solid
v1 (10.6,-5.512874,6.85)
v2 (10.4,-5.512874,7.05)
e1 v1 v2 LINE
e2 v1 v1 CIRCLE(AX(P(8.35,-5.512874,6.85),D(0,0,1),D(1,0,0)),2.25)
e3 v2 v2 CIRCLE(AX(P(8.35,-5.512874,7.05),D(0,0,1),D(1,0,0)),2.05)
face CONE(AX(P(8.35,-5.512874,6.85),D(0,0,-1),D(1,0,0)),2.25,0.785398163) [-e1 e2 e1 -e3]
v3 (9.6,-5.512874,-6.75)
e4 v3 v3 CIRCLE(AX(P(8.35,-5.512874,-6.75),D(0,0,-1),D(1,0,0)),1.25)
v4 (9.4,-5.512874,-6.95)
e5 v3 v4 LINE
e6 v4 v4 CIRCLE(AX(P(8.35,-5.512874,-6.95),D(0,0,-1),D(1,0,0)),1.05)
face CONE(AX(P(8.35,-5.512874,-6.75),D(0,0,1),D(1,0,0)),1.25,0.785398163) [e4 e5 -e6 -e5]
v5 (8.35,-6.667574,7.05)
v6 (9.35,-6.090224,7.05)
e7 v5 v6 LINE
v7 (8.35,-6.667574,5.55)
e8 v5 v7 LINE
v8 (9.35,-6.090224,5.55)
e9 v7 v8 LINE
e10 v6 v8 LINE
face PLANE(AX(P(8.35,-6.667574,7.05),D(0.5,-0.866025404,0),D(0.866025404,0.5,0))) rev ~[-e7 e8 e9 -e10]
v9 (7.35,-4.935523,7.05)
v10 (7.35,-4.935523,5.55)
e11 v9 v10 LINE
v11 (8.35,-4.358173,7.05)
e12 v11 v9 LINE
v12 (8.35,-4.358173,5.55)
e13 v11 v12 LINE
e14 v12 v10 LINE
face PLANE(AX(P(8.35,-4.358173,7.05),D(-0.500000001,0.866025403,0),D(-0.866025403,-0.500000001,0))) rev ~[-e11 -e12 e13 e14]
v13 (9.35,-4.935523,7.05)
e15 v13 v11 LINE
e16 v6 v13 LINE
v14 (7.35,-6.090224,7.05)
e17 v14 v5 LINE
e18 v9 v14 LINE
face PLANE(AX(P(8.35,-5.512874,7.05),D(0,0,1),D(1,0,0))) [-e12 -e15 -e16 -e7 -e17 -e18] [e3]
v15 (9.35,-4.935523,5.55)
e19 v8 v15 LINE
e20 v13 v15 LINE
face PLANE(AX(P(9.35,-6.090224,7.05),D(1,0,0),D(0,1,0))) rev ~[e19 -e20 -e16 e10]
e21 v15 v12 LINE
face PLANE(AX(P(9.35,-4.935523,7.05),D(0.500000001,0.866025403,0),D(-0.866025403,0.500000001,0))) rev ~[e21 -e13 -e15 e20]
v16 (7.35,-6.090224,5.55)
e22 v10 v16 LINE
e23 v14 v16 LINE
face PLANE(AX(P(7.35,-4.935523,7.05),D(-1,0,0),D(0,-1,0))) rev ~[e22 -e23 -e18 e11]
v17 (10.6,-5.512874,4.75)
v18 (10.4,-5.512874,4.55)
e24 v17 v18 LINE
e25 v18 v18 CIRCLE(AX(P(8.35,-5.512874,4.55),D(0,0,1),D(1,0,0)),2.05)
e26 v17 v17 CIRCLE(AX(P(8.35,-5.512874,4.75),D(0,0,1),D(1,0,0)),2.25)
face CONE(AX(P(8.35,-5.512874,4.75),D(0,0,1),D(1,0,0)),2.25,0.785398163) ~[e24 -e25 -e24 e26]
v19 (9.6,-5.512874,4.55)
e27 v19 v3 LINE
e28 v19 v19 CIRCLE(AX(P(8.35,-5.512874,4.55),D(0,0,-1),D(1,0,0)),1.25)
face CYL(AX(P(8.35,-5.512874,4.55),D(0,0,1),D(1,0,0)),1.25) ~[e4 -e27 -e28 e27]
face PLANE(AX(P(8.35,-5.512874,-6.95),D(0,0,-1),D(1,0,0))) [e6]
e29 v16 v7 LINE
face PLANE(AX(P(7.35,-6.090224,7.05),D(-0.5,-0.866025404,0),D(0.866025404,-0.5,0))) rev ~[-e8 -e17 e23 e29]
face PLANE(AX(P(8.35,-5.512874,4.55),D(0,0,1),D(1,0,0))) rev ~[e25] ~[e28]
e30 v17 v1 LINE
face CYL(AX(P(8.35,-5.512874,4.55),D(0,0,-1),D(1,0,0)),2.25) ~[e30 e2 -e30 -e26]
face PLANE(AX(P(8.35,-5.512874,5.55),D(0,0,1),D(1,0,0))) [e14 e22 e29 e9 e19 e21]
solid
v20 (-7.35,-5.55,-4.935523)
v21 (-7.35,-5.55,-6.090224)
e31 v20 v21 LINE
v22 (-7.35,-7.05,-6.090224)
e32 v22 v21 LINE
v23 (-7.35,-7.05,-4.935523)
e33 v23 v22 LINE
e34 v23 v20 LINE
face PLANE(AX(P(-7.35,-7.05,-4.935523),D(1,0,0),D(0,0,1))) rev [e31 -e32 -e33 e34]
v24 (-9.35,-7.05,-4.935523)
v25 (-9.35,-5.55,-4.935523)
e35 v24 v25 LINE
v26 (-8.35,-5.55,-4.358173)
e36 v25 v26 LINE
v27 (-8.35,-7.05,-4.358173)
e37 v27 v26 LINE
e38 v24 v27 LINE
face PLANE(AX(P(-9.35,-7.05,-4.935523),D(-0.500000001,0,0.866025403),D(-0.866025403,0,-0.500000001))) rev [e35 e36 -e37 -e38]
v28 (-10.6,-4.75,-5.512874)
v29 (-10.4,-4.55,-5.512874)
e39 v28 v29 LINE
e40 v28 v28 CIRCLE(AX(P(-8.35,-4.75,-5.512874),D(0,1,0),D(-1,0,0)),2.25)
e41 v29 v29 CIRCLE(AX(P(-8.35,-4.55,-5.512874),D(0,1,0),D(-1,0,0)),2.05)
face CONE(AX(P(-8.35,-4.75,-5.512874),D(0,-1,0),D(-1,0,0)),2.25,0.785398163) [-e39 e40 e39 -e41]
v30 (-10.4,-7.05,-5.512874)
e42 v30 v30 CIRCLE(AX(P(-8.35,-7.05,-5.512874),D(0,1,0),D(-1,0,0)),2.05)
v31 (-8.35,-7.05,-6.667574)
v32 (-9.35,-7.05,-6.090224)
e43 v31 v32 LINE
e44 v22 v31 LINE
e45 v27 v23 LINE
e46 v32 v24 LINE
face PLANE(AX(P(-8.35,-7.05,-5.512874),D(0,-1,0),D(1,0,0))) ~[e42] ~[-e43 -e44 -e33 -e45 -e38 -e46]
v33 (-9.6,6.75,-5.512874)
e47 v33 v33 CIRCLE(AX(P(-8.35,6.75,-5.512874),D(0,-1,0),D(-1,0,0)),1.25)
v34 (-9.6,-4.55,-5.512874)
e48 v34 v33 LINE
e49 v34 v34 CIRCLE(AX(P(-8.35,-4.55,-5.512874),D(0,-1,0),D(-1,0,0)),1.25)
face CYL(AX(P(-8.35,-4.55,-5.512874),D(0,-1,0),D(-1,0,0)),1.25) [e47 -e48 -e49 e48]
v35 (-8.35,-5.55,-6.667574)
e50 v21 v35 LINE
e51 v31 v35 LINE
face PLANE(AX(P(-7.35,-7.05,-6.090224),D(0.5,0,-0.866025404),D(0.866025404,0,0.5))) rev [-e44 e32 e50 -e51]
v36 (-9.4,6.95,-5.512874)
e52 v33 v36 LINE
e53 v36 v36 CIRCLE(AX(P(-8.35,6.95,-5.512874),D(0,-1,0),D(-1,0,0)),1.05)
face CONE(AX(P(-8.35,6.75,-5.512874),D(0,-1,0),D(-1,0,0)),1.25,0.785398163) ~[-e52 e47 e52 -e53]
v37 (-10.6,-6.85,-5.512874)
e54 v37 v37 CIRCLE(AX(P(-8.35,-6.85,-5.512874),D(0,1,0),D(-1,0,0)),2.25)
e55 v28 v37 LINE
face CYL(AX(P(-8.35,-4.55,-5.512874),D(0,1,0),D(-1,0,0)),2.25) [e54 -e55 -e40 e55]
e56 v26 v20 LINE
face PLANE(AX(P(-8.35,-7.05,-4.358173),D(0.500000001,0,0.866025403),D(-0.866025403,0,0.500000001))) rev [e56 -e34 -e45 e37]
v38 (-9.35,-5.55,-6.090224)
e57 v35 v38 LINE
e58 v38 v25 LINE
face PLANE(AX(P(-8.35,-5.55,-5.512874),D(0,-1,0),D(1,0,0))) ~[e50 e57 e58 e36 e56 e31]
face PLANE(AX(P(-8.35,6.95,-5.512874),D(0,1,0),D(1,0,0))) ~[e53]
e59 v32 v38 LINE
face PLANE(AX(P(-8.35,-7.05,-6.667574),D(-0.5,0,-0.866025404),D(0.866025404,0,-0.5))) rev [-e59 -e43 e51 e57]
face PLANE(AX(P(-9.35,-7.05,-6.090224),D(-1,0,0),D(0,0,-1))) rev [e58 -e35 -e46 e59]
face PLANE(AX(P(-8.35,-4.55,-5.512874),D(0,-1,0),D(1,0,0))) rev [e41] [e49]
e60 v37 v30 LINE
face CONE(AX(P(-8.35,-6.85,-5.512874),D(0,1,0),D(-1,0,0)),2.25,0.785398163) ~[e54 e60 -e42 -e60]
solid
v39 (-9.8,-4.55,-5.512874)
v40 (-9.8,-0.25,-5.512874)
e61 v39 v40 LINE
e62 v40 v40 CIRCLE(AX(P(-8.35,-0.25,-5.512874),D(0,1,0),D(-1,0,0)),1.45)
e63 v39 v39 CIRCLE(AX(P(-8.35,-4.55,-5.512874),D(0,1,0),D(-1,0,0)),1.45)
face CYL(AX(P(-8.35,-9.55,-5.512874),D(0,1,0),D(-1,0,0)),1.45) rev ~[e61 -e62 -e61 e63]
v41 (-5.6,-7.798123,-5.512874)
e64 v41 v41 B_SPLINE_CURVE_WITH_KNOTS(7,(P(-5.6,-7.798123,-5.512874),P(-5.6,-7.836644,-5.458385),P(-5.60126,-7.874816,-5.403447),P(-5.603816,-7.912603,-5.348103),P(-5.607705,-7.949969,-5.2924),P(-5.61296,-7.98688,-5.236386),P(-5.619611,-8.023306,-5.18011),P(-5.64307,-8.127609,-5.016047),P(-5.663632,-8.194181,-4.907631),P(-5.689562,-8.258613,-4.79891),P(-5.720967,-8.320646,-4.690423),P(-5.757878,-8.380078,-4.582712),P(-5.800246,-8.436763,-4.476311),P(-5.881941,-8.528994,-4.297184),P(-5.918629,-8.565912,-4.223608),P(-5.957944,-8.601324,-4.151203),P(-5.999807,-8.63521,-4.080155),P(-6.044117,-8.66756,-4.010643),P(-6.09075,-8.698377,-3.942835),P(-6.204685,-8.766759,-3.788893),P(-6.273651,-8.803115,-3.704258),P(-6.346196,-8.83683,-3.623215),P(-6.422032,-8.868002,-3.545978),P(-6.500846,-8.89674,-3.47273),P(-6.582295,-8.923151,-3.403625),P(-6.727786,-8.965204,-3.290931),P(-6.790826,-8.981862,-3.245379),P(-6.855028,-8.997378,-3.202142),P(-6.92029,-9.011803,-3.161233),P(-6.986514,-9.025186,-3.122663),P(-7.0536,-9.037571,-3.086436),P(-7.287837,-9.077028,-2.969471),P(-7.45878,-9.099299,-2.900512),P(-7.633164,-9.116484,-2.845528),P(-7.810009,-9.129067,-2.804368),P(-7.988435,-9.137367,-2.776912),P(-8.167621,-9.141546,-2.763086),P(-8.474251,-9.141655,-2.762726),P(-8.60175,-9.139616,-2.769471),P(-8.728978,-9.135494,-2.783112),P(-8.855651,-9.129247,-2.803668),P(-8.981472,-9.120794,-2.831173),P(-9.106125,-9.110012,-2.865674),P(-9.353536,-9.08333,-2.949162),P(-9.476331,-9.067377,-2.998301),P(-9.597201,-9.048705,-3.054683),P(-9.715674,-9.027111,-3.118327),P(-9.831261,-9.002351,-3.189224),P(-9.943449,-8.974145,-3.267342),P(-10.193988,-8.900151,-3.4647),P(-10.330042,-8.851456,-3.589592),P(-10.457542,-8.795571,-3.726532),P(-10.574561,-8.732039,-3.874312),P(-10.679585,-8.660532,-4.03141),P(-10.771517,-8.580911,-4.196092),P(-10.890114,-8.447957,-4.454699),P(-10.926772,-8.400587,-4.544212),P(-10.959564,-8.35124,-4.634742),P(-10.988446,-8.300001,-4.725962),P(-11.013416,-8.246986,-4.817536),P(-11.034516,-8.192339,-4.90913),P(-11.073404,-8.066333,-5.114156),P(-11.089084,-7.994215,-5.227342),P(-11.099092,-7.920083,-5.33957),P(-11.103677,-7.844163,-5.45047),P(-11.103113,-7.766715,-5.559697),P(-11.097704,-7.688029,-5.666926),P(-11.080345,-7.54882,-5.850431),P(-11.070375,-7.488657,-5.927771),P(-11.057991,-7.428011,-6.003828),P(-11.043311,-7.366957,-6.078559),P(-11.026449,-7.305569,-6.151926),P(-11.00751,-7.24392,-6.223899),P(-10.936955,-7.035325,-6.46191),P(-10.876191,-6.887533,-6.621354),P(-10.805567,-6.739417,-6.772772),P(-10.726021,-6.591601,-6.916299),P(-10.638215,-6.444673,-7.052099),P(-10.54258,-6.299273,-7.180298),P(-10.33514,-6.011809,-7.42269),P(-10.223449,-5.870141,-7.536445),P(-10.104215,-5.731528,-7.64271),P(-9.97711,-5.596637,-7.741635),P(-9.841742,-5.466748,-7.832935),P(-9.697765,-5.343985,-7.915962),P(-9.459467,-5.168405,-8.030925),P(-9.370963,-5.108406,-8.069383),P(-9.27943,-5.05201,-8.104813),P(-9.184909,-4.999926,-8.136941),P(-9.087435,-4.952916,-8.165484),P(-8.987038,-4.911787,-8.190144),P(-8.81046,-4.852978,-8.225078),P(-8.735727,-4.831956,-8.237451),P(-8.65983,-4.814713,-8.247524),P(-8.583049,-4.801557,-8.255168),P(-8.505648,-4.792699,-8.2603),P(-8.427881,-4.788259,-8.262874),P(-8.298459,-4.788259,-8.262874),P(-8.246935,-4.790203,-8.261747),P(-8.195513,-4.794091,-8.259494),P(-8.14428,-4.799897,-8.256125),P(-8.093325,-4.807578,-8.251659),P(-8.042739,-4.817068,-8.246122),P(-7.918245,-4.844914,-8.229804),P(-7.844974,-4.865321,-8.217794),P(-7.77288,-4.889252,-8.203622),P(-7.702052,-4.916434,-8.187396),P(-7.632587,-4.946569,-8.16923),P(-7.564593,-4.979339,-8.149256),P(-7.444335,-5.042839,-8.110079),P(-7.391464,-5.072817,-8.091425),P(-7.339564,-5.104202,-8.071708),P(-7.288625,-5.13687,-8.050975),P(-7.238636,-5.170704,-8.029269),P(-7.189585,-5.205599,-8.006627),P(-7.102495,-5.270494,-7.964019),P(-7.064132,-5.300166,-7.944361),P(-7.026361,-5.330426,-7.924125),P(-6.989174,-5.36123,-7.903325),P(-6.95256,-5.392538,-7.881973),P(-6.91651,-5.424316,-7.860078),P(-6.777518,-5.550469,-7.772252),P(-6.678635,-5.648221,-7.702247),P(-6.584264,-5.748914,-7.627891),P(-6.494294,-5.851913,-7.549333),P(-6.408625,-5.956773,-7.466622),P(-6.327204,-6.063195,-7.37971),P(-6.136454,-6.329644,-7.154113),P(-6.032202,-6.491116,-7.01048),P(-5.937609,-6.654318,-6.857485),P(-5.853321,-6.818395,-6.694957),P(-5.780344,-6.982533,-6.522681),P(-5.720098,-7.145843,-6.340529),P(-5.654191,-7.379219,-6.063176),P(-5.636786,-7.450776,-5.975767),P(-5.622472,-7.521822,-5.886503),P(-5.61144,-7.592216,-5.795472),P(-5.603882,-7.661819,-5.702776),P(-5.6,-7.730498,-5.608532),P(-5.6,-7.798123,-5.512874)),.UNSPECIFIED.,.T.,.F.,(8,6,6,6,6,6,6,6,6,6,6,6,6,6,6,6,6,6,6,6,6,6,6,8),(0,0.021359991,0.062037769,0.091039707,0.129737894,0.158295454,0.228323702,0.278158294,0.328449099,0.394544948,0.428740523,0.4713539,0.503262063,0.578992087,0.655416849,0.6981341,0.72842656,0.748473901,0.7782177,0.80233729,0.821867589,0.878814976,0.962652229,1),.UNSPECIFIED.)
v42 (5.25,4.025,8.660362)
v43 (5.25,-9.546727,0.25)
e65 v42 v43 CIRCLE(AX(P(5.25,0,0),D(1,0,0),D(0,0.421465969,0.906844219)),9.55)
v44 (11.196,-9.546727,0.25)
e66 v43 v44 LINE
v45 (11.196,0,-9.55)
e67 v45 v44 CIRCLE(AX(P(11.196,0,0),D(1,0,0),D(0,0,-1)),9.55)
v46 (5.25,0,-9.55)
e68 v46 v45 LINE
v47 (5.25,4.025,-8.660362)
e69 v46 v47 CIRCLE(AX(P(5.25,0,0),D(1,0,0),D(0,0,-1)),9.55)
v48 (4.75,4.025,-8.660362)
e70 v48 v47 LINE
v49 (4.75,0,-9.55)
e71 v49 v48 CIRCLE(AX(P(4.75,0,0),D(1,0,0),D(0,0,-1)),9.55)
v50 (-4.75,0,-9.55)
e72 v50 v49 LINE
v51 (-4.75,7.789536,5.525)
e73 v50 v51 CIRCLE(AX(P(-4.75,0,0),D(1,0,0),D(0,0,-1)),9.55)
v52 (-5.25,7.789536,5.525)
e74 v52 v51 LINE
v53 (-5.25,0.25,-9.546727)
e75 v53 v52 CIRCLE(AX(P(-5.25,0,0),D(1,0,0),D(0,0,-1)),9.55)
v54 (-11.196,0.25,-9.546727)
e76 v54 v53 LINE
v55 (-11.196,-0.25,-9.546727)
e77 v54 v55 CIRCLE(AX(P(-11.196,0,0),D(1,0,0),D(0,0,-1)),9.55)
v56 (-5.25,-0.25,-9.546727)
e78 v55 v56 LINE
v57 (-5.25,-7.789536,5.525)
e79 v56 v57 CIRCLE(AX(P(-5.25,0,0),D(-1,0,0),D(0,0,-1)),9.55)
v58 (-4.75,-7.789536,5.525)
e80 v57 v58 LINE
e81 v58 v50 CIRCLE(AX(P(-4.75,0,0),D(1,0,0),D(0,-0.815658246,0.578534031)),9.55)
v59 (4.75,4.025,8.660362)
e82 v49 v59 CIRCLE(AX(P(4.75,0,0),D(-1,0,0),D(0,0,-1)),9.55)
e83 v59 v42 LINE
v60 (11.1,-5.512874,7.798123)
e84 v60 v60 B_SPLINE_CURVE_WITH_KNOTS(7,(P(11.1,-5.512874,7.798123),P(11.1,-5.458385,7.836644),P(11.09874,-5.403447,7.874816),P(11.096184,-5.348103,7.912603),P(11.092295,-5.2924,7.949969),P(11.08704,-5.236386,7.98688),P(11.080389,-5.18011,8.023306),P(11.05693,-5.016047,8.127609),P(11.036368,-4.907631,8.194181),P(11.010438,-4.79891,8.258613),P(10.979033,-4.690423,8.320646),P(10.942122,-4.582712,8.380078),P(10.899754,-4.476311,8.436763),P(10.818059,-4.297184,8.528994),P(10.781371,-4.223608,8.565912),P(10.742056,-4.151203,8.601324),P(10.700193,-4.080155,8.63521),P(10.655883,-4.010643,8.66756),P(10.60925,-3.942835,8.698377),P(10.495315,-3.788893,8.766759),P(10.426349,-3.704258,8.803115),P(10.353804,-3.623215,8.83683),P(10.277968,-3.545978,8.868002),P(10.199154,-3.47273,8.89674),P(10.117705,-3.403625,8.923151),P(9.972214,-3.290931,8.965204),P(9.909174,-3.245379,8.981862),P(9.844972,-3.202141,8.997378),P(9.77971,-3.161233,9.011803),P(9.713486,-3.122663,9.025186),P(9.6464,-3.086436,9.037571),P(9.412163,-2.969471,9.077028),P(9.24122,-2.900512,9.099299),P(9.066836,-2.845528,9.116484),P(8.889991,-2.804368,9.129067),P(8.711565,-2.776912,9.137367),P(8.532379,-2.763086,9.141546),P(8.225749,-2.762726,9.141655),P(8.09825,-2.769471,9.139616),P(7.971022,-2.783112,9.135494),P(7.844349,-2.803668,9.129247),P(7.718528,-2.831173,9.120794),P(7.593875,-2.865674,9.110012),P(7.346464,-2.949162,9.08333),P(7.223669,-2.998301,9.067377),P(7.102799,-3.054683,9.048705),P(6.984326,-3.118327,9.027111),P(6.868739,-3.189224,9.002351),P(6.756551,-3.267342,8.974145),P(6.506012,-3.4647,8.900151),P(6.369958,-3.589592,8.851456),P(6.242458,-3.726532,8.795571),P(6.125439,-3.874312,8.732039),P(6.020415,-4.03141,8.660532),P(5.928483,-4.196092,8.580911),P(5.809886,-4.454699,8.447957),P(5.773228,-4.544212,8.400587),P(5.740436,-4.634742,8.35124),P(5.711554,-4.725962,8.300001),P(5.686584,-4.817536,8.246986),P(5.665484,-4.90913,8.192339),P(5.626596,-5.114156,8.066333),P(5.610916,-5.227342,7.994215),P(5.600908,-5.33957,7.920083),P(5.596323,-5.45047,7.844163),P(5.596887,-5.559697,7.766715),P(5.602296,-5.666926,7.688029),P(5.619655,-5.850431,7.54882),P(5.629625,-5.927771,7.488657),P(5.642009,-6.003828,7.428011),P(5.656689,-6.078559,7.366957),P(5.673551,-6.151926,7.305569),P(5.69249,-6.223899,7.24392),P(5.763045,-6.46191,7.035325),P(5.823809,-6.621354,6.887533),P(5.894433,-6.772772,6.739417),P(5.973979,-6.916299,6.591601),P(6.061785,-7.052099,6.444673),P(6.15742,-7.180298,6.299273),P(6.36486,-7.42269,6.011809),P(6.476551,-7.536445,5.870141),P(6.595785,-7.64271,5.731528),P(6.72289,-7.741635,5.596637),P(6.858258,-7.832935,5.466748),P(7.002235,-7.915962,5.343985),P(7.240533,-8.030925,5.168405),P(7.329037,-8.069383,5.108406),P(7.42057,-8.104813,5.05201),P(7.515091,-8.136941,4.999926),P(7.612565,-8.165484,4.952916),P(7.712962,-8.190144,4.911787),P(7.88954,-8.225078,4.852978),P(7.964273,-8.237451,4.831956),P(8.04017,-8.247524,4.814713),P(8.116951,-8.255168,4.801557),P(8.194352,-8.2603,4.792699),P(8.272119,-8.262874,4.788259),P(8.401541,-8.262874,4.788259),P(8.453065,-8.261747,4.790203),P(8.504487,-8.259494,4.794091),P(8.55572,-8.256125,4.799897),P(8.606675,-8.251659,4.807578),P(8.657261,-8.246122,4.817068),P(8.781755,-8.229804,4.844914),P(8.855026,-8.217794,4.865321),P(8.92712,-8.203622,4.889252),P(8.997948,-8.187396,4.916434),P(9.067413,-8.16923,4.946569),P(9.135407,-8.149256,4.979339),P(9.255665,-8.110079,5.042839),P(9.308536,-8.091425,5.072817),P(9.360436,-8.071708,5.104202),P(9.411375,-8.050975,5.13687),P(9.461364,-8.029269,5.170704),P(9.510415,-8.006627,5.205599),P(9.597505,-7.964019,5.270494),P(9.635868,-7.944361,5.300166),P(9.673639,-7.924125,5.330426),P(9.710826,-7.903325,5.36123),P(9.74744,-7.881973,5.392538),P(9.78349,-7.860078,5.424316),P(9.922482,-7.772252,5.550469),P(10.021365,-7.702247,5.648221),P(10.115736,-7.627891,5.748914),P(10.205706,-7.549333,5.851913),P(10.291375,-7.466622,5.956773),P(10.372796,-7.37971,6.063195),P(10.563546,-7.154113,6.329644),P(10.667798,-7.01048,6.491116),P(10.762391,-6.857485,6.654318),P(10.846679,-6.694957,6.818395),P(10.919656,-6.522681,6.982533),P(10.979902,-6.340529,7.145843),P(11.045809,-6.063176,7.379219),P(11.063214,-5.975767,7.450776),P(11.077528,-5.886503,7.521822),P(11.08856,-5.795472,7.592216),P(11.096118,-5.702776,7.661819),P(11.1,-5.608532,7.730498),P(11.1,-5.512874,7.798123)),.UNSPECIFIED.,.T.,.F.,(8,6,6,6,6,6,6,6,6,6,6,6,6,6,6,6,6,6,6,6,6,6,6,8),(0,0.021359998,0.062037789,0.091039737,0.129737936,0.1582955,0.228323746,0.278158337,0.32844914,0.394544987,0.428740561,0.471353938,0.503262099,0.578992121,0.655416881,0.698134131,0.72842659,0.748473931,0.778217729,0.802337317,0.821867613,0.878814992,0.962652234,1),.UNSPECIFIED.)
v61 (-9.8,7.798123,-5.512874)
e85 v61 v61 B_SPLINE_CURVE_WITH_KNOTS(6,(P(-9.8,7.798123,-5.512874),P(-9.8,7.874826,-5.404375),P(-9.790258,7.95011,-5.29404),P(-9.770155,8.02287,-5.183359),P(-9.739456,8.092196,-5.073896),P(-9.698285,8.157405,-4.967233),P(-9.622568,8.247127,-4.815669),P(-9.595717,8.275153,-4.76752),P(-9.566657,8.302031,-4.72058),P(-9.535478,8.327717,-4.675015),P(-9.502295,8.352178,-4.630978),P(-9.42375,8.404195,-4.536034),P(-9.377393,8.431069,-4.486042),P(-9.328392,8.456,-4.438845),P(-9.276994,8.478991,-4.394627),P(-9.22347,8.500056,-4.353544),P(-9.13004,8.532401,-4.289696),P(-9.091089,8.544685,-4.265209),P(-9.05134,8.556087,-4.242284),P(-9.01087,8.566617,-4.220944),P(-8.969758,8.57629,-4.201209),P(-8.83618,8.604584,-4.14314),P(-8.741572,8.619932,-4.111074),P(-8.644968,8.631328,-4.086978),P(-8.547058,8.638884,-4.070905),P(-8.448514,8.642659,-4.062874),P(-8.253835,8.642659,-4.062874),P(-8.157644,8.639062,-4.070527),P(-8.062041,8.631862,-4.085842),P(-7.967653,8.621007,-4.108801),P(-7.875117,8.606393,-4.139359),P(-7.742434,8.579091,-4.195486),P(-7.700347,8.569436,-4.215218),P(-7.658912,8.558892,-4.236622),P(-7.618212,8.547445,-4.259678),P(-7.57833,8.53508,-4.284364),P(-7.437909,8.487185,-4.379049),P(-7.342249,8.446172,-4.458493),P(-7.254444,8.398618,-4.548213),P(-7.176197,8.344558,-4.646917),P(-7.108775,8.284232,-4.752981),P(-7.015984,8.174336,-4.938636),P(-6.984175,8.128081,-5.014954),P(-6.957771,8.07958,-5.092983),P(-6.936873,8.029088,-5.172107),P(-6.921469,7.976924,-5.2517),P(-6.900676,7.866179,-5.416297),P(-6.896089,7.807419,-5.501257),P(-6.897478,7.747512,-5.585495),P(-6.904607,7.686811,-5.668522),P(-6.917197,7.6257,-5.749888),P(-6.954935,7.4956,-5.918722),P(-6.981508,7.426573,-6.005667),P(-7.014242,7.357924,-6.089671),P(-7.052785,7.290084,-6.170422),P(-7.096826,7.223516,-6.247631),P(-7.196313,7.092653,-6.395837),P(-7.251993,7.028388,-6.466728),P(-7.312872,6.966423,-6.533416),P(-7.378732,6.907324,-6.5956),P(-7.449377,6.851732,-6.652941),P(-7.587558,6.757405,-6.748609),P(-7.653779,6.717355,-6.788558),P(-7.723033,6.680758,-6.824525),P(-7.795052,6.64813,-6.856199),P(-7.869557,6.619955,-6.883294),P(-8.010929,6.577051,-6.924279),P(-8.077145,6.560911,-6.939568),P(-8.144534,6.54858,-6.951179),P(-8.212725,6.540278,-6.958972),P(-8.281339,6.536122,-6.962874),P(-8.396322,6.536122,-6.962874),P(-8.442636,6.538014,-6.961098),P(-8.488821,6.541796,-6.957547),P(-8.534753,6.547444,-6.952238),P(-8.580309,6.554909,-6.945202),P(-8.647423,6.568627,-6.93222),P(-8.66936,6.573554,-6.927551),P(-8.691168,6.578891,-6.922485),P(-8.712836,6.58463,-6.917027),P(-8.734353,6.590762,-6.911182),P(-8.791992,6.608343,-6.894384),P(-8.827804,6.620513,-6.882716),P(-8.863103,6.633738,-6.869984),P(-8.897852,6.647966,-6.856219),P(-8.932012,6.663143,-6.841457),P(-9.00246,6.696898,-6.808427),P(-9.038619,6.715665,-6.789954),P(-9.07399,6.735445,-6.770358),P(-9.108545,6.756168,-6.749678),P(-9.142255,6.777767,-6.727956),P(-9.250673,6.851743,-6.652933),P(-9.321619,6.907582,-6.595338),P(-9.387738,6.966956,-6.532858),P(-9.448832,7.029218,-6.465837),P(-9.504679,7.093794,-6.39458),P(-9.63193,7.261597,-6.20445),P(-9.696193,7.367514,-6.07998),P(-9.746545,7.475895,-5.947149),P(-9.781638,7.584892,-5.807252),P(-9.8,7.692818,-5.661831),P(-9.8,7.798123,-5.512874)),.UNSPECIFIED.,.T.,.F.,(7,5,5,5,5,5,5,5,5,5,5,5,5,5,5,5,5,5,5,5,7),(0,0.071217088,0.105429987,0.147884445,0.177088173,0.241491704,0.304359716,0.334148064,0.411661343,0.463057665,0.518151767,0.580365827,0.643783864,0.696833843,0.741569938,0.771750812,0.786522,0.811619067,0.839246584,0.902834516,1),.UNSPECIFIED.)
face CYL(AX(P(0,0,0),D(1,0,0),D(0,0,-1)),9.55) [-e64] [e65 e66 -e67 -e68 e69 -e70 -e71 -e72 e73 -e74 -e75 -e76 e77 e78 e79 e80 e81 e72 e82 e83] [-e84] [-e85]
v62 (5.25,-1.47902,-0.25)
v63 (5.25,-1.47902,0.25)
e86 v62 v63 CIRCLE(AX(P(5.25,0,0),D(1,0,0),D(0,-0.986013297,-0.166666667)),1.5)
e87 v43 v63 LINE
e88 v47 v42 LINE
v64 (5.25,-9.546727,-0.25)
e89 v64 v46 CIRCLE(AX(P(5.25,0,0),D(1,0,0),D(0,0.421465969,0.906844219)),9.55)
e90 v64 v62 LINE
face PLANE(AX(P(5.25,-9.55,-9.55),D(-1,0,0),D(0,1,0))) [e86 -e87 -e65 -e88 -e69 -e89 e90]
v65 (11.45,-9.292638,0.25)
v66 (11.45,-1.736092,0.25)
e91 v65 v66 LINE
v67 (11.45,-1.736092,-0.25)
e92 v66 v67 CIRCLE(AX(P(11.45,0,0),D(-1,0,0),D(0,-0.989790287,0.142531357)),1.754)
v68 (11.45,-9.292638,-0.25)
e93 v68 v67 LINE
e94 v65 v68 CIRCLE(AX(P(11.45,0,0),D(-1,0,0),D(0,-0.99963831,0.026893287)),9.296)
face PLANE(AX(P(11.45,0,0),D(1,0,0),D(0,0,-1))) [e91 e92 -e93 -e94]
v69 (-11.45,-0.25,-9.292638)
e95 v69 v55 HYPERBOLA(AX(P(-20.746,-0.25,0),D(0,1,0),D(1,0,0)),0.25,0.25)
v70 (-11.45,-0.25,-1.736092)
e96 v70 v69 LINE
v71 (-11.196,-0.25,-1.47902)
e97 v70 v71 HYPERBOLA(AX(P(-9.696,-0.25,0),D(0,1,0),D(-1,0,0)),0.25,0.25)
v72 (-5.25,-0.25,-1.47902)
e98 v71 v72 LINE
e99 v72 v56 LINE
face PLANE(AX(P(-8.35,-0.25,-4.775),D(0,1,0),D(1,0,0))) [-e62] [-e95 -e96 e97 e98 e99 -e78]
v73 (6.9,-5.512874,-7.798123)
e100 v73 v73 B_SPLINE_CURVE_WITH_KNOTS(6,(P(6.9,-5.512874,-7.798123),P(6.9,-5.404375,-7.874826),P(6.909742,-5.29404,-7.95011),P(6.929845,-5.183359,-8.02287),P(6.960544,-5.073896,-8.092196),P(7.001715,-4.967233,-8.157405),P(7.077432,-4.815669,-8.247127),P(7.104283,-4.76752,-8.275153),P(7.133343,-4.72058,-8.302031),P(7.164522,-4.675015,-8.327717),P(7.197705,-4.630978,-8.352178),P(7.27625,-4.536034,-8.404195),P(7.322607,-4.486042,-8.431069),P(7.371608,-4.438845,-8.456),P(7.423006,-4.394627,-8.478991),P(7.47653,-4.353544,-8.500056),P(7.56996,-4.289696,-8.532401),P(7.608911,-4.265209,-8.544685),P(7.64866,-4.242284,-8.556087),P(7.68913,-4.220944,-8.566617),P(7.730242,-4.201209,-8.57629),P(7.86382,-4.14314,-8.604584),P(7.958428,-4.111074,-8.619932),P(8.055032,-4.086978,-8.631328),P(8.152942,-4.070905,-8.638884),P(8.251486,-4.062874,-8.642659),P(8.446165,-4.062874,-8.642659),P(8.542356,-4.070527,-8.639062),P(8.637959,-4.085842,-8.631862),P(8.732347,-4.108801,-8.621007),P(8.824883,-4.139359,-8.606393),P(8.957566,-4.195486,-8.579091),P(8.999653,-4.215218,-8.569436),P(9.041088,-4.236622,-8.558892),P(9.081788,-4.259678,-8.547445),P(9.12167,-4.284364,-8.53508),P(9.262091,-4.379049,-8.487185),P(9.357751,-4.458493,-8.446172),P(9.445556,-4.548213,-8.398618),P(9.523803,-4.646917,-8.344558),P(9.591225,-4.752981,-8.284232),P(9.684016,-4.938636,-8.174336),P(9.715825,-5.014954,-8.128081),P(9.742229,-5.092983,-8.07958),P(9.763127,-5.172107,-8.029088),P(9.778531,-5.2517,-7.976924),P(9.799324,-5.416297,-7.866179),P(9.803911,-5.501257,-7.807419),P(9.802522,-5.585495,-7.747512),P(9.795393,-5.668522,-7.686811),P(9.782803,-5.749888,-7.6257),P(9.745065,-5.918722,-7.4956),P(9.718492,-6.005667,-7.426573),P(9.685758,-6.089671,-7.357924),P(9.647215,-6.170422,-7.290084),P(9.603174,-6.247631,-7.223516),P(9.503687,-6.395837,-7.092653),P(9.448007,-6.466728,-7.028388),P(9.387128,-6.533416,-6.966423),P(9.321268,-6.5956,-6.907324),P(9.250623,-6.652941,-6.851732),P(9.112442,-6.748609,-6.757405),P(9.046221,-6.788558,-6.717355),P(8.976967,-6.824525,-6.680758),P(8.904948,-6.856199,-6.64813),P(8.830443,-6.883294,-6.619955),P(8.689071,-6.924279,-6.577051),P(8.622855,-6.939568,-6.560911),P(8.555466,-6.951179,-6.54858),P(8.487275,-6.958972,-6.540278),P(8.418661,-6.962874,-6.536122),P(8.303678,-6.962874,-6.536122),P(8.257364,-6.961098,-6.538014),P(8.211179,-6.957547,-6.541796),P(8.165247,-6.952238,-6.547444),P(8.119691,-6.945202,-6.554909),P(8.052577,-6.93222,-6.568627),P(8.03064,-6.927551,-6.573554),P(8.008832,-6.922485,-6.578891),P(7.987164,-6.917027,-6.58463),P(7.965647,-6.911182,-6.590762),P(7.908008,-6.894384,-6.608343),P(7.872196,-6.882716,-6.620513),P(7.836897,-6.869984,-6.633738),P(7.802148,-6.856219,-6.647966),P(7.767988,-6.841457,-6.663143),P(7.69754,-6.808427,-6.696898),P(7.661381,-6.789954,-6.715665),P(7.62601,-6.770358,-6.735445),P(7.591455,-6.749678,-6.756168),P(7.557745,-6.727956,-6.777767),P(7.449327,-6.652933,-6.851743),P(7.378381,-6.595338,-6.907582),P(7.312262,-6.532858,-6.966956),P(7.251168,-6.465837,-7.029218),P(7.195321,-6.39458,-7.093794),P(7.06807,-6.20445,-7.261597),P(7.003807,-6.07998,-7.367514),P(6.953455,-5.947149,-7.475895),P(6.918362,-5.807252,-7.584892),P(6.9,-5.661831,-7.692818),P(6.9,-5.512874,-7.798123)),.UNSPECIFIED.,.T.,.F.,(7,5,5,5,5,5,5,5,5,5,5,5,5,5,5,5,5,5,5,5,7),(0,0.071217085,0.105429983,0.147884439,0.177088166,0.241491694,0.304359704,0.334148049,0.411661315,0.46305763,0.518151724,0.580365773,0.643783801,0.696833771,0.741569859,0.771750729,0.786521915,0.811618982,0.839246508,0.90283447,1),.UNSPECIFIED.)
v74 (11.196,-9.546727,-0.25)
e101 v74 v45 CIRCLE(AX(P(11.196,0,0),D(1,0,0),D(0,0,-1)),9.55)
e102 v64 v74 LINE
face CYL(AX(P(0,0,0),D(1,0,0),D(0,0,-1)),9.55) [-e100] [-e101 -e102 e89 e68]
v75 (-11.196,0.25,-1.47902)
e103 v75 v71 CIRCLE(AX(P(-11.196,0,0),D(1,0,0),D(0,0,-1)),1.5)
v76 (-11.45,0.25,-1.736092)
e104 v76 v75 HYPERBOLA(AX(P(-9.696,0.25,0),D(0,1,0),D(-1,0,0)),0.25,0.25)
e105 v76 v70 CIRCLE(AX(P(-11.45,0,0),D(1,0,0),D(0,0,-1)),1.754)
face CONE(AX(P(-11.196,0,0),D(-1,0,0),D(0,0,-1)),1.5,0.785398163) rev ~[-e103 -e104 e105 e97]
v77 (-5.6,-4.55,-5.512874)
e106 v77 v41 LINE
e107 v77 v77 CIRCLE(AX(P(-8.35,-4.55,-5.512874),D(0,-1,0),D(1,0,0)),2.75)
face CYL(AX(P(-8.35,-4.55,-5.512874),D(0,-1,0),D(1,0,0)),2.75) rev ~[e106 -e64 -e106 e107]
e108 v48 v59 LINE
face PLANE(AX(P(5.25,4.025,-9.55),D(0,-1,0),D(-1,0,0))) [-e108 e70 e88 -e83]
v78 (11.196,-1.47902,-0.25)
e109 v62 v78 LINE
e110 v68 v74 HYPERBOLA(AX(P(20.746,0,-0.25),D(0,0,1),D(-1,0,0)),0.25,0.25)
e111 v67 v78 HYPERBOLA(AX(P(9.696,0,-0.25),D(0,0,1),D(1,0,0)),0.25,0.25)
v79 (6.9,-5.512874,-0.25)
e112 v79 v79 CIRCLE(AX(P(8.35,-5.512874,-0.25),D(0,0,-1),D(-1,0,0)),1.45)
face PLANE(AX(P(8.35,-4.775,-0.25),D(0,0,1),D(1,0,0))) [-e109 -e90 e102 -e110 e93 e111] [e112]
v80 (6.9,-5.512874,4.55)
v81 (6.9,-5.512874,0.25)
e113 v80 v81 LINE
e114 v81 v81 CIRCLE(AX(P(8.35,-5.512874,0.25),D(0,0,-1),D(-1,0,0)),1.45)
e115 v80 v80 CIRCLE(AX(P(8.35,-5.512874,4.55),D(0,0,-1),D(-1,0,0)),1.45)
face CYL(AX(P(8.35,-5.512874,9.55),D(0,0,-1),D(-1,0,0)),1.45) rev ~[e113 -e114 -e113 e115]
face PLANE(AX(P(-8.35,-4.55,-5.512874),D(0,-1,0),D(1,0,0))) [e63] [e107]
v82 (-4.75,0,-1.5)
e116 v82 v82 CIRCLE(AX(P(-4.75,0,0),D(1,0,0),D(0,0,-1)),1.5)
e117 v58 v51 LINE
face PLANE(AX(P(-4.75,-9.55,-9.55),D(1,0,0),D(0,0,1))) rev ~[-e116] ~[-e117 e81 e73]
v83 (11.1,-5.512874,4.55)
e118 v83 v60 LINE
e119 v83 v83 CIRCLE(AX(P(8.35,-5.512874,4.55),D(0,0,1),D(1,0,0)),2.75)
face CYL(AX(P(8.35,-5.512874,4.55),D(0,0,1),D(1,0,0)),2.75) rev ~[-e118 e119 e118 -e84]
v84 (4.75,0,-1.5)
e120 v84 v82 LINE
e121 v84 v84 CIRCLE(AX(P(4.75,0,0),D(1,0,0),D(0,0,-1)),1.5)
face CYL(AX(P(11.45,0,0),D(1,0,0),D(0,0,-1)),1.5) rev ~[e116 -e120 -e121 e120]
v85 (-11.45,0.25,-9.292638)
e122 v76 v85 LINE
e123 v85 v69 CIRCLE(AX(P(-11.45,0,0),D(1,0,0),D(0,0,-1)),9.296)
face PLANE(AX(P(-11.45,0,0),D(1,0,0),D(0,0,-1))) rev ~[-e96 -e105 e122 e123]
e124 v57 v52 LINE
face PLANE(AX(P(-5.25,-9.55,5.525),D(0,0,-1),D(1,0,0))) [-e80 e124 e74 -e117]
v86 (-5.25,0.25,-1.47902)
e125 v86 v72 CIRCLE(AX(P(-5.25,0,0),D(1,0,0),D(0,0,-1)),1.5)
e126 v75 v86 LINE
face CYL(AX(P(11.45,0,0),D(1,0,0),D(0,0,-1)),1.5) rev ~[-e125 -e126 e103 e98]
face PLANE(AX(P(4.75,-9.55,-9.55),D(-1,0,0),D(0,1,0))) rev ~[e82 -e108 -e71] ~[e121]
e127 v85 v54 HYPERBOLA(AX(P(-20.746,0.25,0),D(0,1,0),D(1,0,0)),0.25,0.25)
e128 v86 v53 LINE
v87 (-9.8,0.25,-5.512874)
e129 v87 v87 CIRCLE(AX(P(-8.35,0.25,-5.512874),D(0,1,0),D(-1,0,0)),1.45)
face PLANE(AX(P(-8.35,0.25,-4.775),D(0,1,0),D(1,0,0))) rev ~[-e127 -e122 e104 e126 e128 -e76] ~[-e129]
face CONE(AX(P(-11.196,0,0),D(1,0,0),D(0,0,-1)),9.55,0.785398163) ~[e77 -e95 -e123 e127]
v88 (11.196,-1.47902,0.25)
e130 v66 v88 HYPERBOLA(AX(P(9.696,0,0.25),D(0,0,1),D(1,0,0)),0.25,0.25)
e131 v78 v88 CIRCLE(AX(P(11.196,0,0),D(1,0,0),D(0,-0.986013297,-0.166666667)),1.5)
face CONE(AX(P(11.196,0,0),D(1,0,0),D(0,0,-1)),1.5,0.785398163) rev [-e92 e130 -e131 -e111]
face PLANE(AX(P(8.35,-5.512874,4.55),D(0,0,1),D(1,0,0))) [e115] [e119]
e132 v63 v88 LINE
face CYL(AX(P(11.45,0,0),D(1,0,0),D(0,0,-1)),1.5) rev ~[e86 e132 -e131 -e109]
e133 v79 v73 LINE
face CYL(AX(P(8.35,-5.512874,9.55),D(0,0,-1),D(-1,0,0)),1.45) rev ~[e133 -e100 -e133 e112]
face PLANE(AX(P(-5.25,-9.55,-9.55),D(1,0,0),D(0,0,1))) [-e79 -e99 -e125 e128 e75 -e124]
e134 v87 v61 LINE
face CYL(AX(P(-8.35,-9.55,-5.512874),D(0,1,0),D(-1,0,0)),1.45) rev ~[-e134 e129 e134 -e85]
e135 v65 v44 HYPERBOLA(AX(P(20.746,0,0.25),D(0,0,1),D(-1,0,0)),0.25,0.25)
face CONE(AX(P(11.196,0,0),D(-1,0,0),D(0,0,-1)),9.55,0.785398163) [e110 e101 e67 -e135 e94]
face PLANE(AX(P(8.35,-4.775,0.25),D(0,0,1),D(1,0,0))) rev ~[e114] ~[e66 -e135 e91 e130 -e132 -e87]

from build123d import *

# Parameters (mm, degrees)
SKETCH1_R                        = 9.55
BOSS_EXTRUDE1_DEPTH              = 11.45
SKETCH2_R                        = 1.5
CUT_EXTRUDE1_DEPTH               = 23.9
CHAMFER1_SIZE                    = 0.254
SKETCH4_W                        = 0.5
SKETCH4_H                        = 15.075
CUT_EXTRUDE2_DEPTH               = 20.1
SKETCH7_W                        = 0.5
SKETCH7_H                        = 13.575
CUT_EXTRUDE3_DEPTH               = 20.1
SKETCH8_W                        = 6.2
SKETCH8_H                        = 9.55
CUT_EXTRUDE5_DEPTH               = 0.25
SKETCH13_W                       = 6.2
SKETCH13_H                       = 9.55
CUT_EXTRUDE6_DEPTH               = 0.25
CBORE_FOR_M2_5_SHCS1_D           = 2.9
CBORE_FOR_M2_5_SHCS1_CBORE_D     = 5.5
CBORE_FOR_M2_5_SHCS1_CBORE_DEPTH = 5
CBORE_FOR_M2_5_SHCS2_D           = 2.9
CBORE_FOR_M2_5_SHCS2_CBORE_D     = 5.5
CBORE_FOR_M2_5_SHCS2_CBORE_DEPTH = 5
SKETCH16_R                       = 2.25
BOSS_EXTRUDE2_DEPTH              = 2.5
SKETCH17_R                       = 1.25
BOSS_EXTRUDE3_DEPTH              = 11.5
CHAMFER2_SIZE                    = 0.2
CUT_EXTRUDE7_DEPTH               = 1.5
CIRPATTERN1_COUNT                = 2
CIRPATTERN1_ANGLE                = 90


with BuildPart() as part:
    # Sketch1 → Boss-Extrude1 (new body, symmetric)
    with BuildSketch(Plane(origin=(0, 0, 0), x_dir=(0, 0, -1), z_dir=(1, 0, 0))):
        Circle(SKETCH1_R)
    extrude(amount=BOSS_EXTRUDE1_DEPTH, both=True)

    # Sketch2 → Cut-Extrude1 (cut, through all)
    with BuildSketch(Plane(origin=(11.45, 0, 0), x_dir=(0, 0, -1), z_dir=(1, 0, 0))):
        Circle(SKETCH2_R)
    extrude(amount=-CUT_EXTRUDE1_DEPTH, mode=Mode.SUBTRACT)

    # Chamfer1
    chamfer1_edges = [part.edges().sort_by_distance(p)[0] for p in [
        (-11.45, 0, 9.55),
        (11.45, 0, 9.55),
        (-11.45, 0, 1.5),
        (11.45, 0, 1.5),
    ]]
    chamfer(chamfer1_edges, length=CHAMFER1_SIZE)

    # Sketch4 → Cut-Extrude2 (cut, through all)
    with BuildSketch(Plane.XZ.offset(9.55)):
        with Locations((-5, -2.0125)):
            Rectangle(SKETCH4_W, SKETCH4_H)
    extrude(amount=-CUT_EXTRUDE2_DEPTH, mode=Mode.SUBTRACT)

    # Sketch7 → Cut-Extrude3 (cut, through all)
    with BuildSketch(Plane(origin=(0, 0, -9.55), x_dir=(-1, 0, 0), z_dir=(0, 0, -1))):
        with Locations((-5, -2.7625)):
            Rectangle(SKETCH7_W, SKETCH7_H)
    extrude(amount=-CUT_EXTRUDE3_DEPTH, mode=Mode.SUBTRACT)

    # Sketch8 → Cut-Extrude5 (cut, symmetric)
    with BuildSketch(Plane(origin=(0, 0, 0), x_dir=(1, 0, 0), z_dir=(0, 1, 0))):
        with Locations((-8.35, 4.775)):
            Rectangle(SKETCH8_W, SKETCH8_H)
    extrude(amount=CUT_EXTRUDE5_DEPTH, both=True, mode=Mode.SUBTRACT)

    # Sketch13 → Cut-Extrude6 (cut, symmetric)
    with BuildSketch(Plane.XY):
        with Locations((8.35, -4.775)):
            Rectangle(SKETCH13_W, SKETCH13_H)
    extrude(amount=CUT_EXTRUDE6_DEPTH, both=True, mode=Mode.SUBTRACT)

    # CBORE for M2.5 SHCS1 (through all)
    with Locations(Plane.XZ.offset(9.55)):
        with Locations((-8.35, -5.512873567)):
            CounterBoreHole(CBORE_FOR_M2_5_SHCS1_D / 2, CBORE_FOR_M2_5_SHCS1_CBORE_D / 2, CBORE_FOR_M2_5_SHCS1_CBORE_DEPTH)

    # CBORE for M2.5 SHCS2 (through all)
    with Locations(Plane.XY.offset(9.55)):
        with Locations((8.35, -5.512873567)):
            CounterBoreHole(CBORE_FOR_M2_5_SHCS2_D / 2, CBORE_FOR_M2_5_SHCS2_CBORE_D / 2, CBORE_FOR_M2_5_SHCS2_CBORE_DEPTH)


with BuildPart() as body_2:
    # Sketch16 → Boss-Extrude2 (new body)
    with BuildSketch(Plane.XY.offset(4.55)):
        with Locations((8.35, -5.512873567)):
            Circle(SKETCH16_R)
    extrude(amount=BOSS_EXTRUDE2_DEPTH)

    # Sketch17 → Boss-Extrude3 (add)
    with BuildSketch(Plane(origin=(0, 0, 4.55), x_dir=(-1, 0, 0), z_dir=(0, 0, -1))):
        with Locations(Location((-8.35, -5.512873567, 0), (0, 0, 180))):  # turned: the seam where the file's is
            Circle(SKETCH17_R)
    extrude(amount=BOSS_EXTRUDE3_DEPTH)

    # Chamfer2
    chamfer2_edges = [body_2.edges().sort_by_distance(p)[0] for p in [
        (6.1, -5.512873567, 4.55),
        (6.1, -5.512873567, 7.05),
        (7.1, -5.512873567, -6.95),
    ]]
    chamfer(chamfer2_edges, length=CHAMFER2_SIZE)

    # Sketch18 → Cut-Extrude7 (cut)
    with BuildSketch(Plane.XY.offset(7.05)):
        Polygon((8.35, -6.667574105), (9.35, -6.090223836), (9.35, -4.935523298), (8.35, -4.358173028), (7.35, -4.935523298), (7.35, -6.090223836), align=None)
    extrude(amount=-CUT_EXTRUDE7_DEPTH, mode=Mode.SUBTRACT)


with BuildPart() as body_3:
    # Mirror1: mirrored copy
    add(body_2.part.mirror(Plane(origin=(0, 0, 0), x_dir=(0, 0, 1), z_dir=(1, 0, 0))))


with BuildPart() as cirpattern1_1:
    # CirPattern1: pattern copy
    add(body_3.part.rotate(Axis((0, 0, 0), (1, 0, 0)), 1 * CIRPATTERN1_ANGLE / (CIRPATTERN1_COUNT - 1)))


solid = Compound([part.part, body_2.part, cirpattern1_1.part])
